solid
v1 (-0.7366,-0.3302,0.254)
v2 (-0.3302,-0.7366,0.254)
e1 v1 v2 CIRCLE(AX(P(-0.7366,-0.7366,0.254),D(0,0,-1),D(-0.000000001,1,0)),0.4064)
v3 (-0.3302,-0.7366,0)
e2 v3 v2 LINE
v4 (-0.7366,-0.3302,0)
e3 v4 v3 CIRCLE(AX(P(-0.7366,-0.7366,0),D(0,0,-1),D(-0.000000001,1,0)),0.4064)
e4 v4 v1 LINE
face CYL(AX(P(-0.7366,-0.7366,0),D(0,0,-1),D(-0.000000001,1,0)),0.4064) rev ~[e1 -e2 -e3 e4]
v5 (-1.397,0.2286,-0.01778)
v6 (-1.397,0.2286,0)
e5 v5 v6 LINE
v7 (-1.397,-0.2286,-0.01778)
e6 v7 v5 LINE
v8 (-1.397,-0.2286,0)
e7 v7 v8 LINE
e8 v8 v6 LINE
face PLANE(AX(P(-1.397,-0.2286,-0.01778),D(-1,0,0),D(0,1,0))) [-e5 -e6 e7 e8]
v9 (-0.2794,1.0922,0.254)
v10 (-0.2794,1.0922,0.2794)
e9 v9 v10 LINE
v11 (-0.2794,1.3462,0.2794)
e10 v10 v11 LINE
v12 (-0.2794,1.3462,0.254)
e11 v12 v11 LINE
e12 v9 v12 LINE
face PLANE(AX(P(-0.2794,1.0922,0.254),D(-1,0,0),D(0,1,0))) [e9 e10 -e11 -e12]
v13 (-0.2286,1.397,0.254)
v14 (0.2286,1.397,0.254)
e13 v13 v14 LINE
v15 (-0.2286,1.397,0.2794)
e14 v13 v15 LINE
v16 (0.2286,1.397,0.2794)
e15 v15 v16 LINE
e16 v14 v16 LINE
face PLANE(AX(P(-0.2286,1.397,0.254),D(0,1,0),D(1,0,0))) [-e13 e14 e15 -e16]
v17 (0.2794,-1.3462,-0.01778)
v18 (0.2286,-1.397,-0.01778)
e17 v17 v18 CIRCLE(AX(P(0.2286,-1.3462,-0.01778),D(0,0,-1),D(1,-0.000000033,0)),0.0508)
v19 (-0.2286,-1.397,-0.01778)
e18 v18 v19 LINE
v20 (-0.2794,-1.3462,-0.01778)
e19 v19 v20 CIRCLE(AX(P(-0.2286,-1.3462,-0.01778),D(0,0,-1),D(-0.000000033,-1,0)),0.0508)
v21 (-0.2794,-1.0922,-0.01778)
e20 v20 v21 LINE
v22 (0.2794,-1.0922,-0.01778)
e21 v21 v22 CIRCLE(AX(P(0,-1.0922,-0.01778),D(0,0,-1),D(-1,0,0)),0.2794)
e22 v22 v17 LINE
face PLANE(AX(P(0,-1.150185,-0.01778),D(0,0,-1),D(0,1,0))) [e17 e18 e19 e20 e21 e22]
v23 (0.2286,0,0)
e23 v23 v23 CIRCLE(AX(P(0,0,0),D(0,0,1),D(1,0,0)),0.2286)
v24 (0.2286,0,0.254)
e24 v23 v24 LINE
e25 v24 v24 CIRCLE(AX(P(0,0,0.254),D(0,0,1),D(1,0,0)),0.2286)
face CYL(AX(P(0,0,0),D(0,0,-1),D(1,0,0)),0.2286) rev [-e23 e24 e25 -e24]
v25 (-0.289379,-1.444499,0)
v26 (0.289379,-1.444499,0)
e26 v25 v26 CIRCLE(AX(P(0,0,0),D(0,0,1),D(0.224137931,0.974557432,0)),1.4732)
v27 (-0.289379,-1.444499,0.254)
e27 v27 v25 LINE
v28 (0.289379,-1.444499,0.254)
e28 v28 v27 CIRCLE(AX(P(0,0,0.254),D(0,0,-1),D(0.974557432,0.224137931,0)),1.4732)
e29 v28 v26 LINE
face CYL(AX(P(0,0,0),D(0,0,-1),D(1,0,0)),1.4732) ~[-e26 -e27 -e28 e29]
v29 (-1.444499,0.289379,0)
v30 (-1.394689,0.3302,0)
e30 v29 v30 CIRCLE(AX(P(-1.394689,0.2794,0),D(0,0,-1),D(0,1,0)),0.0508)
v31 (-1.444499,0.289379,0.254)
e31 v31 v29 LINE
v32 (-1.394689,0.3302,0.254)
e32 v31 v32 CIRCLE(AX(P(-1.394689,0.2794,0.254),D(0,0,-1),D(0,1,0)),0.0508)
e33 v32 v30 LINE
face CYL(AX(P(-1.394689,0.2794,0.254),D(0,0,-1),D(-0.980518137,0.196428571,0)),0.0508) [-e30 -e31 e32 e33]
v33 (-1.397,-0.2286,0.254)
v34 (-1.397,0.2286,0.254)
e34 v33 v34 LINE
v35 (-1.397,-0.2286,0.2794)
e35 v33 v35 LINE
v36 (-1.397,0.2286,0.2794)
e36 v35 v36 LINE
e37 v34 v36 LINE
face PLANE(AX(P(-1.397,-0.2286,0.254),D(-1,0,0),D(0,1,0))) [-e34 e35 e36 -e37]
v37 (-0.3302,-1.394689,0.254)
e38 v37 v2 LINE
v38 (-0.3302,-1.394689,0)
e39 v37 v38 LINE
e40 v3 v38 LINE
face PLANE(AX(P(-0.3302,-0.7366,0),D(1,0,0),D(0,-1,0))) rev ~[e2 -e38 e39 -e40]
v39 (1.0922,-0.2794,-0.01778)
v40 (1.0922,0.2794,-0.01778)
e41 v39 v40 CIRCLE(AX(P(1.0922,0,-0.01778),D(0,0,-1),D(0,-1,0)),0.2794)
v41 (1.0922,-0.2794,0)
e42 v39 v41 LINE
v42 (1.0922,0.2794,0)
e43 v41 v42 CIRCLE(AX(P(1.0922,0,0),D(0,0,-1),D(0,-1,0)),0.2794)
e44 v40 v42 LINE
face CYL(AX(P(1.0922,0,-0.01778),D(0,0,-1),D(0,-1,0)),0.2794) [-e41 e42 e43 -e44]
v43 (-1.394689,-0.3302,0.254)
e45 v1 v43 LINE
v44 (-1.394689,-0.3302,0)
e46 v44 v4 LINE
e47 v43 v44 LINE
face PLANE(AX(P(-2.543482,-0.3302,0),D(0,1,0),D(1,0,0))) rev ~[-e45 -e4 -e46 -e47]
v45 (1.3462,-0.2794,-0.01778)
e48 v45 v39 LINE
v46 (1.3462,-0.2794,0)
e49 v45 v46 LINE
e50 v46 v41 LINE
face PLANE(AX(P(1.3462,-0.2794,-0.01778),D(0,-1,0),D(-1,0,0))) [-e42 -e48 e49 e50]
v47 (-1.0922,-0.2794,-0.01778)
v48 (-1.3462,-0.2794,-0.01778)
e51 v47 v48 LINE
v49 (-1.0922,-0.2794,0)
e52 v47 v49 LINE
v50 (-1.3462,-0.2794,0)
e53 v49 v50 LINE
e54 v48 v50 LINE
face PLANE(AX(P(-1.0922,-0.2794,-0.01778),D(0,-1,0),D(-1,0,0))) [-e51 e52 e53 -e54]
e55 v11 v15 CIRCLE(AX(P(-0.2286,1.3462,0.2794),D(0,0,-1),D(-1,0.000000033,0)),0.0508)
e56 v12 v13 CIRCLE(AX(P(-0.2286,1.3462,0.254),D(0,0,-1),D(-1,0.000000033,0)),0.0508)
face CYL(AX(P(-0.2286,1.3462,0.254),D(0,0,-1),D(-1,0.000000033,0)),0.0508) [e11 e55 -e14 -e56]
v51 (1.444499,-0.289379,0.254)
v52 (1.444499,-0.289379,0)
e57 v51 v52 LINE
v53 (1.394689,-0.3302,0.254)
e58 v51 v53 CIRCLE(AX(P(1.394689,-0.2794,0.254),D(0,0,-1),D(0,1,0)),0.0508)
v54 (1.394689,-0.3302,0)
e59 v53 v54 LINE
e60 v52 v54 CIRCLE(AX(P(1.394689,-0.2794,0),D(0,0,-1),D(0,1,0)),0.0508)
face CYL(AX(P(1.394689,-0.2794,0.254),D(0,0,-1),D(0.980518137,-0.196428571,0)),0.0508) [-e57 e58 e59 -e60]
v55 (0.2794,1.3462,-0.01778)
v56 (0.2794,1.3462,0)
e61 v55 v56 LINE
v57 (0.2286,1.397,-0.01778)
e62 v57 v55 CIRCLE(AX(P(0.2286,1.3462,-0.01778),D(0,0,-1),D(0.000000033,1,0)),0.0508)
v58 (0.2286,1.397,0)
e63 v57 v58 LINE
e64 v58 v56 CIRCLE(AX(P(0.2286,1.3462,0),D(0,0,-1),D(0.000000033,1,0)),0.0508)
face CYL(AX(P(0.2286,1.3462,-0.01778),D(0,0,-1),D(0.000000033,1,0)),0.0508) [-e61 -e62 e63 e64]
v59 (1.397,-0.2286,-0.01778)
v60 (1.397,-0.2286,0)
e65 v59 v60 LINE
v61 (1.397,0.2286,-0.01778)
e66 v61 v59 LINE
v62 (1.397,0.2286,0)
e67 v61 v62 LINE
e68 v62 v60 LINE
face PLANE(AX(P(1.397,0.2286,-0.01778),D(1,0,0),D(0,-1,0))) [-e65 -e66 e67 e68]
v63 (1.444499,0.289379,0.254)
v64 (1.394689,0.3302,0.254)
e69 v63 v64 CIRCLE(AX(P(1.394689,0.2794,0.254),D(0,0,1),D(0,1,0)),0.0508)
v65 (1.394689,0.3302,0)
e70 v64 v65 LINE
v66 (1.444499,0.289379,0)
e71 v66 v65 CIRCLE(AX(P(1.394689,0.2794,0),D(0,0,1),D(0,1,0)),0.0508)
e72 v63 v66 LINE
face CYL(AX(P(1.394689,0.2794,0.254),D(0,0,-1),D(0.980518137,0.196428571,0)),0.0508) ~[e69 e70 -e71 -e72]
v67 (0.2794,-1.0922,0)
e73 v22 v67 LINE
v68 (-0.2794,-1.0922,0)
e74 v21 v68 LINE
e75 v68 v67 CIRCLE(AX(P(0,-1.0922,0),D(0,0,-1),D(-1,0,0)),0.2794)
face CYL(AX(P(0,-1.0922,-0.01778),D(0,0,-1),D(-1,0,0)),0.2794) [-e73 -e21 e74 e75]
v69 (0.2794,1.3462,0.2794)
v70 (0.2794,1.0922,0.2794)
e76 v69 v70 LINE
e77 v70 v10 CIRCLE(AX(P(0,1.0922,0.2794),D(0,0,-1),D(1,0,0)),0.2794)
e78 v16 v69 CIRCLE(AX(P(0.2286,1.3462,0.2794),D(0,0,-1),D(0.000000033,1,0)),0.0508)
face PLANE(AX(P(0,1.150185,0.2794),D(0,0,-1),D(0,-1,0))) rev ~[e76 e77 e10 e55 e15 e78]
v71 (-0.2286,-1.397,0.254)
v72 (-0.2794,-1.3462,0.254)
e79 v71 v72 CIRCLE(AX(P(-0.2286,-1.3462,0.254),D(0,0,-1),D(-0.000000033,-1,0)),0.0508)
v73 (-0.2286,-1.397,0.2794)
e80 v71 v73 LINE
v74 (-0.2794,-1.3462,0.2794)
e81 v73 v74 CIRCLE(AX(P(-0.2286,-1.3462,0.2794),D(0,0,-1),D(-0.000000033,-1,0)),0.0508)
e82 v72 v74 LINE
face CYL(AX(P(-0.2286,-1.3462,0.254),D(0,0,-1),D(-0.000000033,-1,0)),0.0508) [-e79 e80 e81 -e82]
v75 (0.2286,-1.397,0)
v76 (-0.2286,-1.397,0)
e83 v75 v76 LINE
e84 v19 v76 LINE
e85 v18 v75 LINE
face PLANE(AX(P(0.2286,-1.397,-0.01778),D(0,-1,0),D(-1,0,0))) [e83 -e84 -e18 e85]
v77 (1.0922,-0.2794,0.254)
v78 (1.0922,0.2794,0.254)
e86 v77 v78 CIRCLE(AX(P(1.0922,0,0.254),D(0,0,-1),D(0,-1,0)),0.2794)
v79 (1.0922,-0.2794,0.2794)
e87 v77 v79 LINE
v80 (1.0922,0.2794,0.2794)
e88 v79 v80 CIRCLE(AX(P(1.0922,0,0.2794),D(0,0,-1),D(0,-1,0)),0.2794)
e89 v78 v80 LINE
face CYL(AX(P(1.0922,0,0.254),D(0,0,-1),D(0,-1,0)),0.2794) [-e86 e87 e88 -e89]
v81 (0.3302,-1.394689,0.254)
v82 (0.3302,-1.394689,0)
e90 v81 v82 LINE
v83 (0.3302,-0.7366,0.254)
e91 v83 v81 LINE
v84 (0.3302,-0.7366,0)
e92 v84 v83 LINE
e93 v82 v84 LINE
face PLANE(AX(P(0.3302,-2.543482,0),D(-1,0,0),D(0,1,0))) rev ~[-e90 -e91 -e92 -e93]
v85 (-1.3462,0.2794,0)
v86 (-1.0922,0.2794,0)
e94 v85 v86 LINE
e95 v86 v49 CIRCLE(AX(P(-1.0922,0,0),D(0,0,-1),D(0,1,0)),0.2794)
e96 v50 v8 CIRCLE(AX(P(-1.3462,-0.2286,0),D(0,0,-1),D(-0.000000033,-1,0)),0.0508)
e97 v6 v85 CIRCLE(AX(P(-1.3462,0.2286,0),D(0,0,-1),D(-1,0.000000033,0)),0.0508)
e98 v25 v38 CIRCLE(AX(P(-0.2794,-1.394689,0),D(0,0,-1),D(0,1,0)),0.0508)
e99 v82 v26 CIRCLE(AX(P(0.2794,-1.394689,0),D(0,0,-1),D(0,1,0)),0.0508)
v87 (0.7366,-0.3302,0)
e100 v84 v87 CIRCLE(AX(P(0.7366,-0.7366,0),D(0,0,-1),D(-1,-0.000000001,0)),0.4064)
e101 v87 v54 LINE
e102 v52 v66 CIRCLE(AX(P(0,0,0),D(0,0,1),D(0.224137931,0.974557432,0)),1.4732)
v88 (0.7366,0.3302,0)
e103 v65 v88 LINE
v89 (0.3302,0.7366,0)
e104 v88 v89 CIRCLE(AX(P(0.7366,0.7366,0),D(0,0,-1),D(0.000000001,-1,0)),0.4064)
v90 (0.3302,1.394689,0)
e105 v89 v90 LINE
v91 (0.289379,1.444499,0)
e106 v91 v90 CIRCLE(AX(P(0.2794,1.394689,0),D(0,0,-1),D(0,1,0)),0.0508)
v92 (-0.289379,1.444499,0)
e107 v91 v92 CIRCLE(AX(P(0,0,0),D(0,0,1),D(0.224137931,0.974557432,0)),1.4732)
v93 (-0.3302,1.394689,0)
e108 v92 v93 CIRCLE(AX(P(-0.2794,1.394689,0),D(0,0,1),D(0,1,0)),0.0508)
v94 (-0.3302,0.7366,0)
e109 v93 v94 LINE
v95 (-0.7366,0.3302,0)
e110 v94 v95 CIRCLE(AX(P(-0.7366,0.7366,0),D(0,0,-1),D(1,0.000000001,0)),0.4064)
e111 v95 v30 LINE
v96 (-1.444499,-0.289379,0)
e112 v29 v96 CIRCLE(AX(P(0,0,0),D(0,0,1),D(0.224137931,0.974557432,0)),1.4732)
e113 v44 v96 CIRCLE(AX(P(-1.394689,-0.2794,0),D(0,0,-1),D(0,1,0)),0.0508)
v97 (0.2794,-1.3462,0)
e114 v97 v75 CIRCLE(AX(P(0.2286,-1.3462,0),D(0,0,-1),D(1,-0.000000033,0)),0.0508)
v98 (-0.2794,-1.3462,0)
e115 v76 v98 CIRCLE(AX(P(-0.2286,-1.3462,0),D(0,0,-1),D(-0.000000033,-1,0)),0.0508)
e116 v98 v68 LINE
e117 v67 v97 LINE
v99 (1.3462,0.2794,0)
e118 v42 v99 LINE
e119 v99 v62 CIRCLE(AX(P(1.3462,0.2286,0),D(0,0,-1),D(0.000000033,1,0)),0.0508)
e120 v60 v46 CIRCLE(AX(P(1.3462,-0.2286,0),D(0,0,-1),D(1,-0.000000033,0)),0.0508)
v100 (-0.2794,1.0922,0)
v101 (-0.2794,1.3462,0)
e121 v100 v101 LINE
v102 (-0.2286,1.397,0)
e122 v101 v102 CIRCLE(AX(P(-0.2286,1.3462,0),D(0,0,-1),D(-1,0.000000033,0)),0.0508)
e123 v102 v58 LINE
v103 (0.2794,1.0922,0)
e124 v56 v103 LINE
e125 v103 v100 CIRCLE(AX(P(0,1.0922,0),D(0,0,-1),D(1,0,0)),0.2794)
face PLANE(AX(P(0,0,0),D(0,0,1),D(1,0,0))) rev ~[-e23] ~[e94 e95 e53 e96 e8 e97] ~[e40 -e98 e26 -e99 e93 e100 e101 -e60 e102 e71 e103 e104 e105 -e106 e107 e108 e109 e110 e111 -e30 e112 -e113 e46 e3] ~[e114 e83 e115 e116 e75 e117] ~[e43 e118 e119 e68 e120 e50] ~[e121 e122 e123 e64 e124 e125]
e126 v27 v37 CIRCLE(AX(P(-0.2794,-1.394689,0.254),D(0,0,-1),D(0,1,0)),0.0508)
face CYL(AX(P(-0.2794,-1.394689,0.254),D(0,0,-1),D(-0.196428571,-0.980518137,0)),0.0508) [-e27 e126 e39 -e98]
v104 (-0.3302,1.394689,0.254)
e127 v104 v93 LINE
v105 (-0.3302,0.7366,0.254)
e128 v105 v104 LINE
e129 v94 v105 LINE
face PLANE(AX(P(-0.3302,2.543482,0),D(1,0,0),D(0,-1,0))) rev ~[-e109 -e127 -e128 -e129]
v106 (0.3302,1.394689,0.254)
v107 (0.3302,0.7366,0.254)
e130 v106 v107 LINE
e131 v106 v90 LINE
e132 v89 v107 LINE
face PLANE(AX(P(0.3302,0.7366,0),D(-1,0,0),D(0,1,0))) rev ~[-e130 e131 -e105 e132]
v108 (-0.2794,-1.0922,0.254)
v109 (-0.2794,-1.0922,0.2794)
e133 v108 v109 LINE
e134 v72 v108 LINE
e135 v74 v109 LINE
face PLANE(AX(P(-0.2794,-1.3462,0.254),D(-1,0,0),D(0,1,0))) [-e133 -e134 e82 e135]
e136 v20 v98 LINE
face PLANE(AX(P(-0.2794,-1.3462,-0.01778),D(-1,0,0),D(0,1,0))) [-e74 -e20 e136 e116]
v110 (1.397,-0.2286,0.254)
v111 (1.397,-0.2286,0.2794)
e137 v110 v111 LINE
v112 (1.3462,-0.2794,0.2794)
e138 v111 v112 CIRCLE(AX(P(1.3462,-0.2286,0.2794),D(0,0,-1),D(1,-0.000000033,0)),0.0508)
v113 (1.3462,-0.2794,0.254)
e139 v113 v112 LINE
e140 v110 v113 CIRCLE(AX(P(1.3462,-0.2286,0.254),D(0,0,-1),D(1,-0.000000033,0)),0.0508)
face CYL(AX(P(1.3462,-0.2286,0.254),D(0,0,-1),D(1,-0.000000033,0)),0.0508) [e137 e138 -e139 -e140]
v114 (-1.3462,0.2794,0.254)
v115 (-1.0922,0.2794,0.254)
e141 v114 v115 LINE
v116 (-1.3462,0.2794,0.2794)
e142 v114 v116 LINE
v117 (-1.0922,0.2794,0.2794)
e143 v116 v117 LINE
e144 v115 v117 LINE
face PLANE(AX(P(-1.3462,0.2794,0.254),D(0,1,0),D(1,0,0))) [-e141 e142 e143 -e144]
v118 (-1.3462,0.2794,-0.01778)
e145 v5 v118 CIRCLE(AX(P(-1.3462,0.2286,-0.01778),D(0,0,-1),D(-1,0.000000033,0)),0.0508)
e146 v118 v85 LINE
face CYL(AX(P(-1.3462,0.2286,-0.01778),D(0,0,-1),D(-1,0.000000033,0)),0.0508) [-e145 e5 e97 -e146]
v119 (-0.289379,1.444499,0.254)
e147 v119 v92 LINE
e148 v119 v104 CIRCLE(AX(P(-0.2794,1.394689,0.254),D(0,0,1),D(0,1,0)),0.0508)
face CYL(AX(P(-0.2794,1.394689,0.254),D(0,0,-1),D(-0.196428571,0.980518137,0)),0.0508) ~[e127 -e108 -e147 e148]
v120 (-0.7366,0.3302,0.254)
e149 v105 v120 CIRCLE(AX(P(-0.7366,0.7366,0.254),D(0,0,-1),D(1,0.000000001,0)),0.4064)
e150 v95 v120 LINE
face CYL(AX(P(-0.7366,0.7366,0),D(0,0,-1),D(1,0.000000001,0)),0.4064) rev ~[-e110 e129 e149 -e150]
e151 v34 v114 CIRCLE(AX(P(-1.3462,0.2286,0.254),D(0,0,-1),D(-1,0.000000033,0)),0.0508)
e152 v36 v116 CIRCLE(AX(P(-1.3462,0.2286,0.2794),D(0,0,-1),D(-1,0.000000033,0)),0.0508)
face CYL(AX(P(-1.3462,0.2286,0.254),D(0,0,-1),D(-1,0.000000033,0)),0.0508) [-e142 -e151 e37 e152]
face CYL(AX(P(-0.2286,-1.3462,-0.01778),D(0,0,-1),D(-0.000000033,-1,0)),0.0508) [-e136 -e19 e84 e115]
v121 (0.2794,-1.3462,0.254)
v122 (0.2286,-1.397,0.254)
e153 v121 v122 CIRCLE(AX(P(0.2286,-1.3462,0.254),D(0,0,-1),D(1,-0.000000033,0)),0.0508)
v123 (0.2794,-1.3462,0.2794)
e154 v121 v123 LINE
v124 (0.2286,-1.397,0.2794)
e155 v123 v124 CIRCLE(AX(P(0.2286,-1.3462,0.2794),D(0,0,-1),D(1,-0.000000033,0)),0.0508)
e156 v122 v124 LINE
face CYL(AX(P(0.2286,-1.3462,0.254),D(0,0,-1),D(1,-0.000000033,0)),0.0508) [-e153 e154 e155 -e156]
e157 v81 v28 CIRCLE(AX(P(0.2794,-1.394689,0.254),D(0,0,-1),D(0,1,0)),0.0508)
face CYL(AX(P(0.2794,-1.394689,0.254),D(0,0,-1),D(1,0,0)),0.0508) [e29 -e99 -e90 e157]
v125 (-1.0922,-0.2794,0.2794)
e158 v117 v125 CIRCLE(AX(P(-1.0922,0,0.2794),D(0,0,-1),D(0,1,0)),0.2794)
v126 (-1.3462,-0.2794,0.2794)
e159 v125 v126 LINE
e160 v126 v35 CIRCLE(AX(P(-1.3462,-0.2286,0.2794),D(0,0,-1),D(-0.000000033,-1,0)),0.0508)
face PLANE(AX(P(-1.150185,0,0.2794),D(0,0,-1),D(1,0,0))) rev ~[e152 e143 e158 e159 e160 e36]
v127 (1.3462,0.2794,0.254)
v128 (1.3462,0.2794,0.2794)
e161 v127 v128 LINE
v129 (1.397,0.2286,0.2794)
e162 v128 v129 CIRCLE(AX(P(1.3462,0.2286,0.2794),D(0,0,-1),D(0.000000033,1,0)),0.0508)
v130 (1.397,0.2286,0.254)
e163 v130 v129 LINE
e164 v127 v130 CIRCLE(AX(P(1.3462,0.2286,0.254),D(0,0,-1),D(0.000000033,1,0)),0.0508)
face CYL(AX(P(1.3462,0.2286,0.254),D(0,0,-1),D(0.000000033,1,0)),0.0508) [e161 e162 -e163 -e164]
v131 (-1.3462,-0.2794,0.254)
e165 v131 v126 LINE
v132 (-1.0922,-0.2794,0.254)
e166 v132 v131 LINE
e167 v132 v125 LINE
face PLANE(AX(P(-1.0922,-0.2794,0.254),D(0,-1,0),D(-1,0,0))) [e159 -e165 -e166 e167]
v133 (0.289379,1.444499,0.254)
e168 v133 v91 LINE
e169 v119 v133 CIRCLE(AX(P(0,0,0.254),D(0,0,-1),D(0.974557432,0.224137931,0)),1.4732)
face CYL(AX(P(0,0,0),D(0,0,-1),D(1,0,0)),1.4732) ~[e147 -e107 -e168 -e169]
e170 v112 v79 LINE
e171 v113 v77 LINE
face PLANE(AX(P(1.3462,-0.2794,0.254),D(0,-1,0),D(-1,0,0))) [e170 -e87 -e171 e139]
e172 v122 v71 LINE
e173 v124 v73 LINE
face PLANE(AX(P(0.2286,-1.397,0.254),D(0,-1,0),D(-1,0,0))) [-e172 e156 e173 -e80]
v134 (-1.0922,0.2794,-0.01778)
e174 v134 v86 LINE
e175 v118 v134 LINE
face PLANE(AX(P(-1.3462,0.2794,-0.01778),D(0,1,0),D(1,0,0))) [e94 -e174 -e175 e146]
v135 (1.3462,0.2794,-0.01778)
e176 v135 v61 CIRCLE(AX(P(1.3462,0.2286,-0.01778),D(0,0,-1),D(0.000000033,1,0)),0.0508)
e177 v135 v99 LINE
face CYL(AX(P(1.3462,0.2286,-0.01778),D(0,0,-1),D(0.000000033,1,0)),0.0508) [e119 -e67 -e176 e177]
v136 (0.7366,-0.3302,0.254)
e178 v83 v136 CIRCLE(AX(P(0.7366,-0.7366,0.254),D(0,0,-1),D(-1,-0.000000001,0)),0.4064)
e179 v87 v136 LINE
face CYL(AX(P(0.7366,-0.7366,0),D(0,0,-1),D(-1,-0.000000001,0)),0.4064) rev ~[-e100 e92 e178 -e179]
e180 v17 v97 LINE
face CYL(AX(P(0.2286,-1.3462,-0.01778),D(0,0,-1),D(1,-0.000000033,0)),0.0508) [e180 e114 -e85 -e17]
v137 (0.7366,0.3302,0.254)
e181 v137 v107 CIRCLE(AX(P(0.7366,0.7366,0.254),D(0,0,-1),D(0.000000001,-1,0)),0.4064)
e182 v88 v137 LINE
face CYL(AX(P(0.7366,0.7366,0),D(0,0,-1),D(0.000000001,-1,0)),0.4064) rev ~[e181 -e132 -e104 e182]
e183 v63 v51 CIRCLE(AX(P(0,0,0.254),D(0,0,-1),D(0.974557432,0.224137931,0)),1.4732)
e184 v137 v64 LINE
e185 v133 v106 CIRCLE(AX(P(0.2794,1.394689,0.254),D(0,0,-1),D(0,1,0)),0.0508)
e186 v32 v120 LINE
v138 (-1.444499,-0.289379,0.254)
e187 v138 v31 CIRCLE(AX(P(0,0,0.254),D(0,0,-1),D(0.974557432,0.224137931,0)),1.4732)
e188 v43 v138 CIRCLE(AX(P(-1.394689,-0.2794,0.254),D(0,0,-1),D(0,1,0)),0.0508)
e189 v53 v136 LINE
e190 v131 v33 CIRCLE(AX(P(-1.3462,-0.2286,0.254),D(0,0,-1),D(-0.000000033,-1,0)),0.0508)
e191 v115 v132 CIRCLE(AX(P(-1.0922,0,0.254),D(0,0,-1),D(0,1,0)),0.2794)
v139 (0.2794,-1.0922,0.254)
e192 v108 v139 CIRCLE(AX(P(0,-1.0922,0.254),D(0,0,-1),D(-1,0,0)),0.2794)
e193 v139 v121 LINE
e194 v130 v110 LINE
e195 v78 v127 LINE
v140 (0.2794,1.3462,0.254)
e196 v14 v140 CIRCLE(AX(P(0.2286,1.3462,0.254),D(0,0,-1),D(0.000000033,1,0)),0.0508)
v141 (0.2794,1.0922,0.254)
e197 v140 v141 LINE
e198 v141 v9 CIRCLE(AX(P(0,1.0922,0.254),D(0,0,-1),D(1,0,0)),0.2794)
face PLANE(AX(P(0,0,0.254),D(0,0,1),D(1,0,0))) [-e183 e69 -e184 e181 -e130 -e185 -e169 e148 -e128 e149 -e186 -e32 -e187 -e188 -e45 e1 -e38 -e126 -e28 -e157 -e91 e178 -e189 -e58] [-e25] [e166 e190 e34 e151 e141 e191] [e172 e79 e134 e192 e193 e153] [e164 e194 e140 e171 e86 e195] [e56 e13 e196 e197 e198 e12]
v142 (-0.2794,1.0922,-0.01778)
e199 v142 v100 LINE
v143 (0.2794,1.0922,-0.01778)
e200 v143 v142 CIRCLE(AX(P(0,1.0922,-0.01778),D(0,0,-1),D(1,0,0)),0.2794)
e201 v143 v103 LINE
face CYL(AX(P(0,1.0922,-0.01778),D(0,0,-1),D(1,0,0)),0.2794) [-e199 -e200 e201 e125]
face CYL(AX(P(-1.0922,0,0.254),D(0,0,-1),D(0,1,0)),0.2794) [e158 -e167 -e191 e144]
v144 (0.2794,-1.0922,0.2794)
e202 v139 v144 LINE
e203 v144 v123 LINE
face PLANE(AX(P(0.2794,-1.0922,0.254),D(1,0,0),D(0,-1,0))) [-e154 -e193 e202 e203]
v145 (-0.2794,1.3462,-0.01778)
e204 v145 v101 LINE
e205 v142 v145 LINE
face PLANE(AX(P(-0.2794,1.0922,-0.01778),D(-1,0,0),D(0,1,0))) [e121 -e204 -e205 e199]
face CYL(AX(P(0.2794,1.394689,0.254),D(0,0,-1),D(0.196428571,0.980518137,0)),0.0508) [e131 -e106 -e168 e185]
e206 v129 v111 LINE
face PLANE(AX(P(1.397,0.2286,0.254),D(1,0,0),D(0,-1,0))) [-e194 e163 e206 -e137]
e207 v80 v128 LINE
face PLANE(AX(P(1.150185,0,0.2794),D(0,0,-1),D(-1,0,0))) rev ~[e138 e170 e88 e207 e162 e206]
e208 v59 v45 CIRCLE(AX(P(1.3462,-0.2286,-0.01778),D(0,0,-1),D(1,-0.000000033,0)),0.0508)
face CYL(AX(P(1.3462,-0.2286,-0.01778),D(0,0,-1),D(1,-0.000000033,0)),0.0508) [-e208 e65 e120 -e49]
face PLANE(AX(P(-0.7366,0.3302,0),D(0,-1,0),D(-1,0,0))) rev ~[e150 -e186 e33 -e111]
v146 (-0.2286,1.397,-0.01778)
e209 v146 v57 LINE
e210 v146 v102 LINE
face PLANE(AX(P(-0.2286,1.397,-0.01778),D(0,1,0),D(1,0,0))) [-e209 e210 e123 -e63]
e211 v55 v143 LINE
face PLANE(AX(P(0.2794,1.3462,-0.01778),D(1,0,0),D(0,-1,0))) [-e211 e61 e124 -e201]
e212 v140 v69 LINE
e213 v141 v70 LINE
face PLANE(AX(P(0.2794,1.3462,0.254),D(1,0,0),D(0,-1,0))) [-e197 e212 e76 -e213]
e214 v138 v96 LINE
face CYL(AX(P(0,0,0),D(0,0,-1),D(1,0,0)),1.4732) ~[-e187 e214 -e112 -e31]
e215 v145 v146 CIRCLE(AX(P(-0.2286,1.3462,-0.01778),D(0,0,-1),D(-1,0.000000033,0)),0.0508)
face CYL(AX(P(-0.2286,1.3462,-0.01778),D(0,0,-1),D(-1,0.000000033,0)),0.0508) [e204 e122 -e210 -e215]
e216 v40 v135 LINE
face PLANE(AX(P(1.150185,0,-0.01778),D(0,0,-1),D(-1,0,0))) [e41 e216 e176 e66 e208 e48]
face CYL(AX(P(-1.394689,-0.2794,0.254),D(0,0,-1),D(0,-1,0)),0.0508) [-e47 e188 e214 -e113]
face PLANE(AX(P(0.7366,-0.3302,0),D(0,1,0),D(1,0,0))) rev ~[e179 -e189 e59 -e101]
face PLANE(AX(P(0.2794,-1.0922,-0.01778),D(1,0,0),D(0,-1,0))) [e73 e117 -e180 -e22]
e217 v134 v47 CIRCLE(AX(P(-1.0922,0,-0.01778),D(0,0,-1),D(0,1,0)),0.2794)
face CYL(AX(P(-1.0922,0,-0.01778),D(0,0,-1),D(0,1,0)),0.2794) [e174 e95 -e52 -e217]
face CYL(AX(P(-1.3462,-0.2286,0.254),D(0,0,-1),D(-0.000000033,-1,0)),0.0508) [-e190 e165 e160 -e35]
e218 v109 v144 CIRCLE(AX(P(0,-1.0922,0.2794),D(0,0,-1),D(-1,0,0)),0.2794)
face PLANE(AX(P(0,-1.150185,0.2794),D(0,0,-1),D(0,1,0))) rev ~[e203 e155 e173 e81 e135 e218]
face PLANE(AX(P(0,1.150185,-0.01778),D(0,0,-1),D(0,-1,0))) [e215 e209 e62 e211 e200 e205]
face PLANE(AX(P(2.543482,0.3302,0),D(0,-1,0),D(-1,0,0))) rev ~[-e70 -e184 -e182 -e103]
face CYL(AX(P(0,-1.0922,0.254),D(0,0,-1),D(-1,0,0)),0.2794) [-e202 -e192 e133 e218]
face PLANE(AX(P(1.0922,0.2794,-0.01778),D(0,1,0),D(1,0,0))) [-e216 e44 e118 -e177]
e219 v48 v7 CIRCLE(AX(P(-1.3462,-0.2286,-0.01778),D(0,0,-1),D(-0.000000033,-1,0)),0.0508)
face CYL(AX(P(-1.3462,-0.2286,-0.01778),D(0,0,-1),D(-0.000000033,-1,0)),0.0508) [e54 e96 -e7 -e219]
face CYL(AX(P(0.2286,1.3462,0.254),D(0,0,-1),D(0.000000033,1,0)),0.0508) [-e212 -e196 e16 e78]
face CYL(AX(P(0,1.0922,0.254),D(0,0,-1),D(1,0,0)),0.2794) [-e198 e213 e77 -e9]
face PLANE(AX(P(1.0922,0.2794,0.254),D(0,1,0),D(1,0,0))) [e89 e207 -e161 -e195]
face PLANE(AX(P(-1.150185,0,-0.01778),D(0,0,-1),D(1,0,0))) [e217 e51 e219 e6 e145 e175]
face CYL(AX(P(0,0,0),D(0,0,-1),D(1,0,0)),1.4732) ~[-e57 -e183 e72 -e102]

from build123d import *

# Parameters (mm, degrees)
SKETCH1_R                = 1.4732
SKETCH1_R_2              = 0.2286
BOSS_EXTRUDE1_DEPTH      = 0.254
CUT_EXTRUDE3_DEPTH       = 3.098845511
FILLET1_R                = 0.0508
CIRPATTERN2_COUNT        = 4
FILLET1_OF_CIRPATTERN2_R = 0.0508
BOSS_EXTRUDE2_DEPTH      = 0.0254
BOSS_EXTRUDE4_START      = 0.01778
BOSS_EXTRUDE4_DEPTH      = 0.01778
CIRPATTERN1_COUNT        = 4


with BuildPart() as part:
    # Sketch1 → Boss-Extrude1 (new body)
    with BuildSketch(Plane.XY):
        Circle(SKETCH1_R)
        Circle(SKETCH1_R_2, mode=Mode.SUBTRACT)
    extrude(amount=BOSS_EXTRUDE1_DEPTH)

    # Sketch11 → Cut-Extrude3 (cut, through all)
    with BuildSketch(Plane.XY):
        with BuildLine():
            Line((2.543481959, 0.3302), (0.7366, 0.3302))
            ThreePointArc((0.7366, 0.3302), (0.449231804, 0.449231804), (0.3302, 0.7366))
            Line((0.3302, 0.7366), (0.3302, 2.543481959))
            Line((0.3302, 2.543481959), (2.543481959, 0.3302))
        make_face()
    cut_extrude3 = extrude(amount=CUT_EXTRUDE3_DEPTH, mode=Mode.SUBTRACT)

    # Fillet1
    fillet1_edges = [part.edges().sort_by_distance(p)[0] for p in [
        (1.435718009, 0.3302, 0.127),
        (0.3302, 1.435718009, 0.127),
    ]]
    fillet(fillet1_edges, radius=FILLET1_R)

    # CirPattern2: Cut-Extrude3 ×4 about axis
    cirpattern2_axis = Axis((0, 0, -0.05461), (0, 0, 1))
    for i in range(1, CIRPATTERN2_COUNT):
        add(cut_extrude3.rotate(cirpattern2_axis, i * 360 / CIRPATTERN2_COUNT), mode=Mode.SUBTRACT)

    # Fillet1 of CirPattern2
    fillet1_of_cirpattern2_edges = [part.edges().sort_by_distance(p)[0] for p in [
        (-0.3302, 1.435718009, 0.127),
        (-1.435718009, 0.3302, 0.127),
        (-1.435718009, -0.3302, 0.127),
        (-0.3302, -1.435718009, 0.127),
        (0.3302, -1.435718009, 0.127),
        (1.435718009, -0.3302, 0.127),
    ]]
    fillet(fillet1_of_cirpattern2_edges, radius=FILLET1_OF_CIRPATTERN2_R)

    # Sketch2 → Boss-Extrude2 (add)
    with BuildSketch(Plane.XY.offset(0.254)):
        with BuildLine():
            Line((1.0922, 0.2794), (1.3462, 0.2794))
            ThreePointArc((1.3462, 0.2794), (1.382121024, 0.264521024), (1.397, 0.2286))
            Line((1.397, 0.2286), (1.397, -0.2286))
            ThreePointArc((1.397, -0.2286), (1.382121024, -0.264521024), (1.3462, -0.2794))
            Line((1.3462, -0.2794), (1.0922, -0.2794))
            ThreePointArc((1.0922, -0.2794), (0.8128, 0), (1.0922, 0.2794))
        make_face()
    boss_extrude2 = extrude(amount=BOSS_EXTRUDE2_DEPTH)

    # Sketch5 → Boss-Extrude4 (add)
    with BuildSketch(Plane(origin=(0, 0, 0), x_dir=(-1, 0, 0), z_dir=(0, 0, -1)).offset(BOSS_EXTRUDE4_START)):
        with BuildLine():
            Line((-1.397, 0.2286), (-1.397, -0.2286))
            ThreePointArc((-1.397, -0.2286), (-1.382121024, -0.264521024), (-1.3462, -0.2794))
            Line((-1.3462, -0.2794), (-1.0922, -0.2794))
            ThreePointArc((-1.0922, -0.2794), (-0.8128, 0), (-1.0922, 0.2794))
            Line((-1.0922, 0.2794), (-1.3462, 0.2794))
            ThreePointArc((-1.3462, 0.2794), (-1.382121024, 0.264521024), (-1.397, 0.2286))
        make_face()
    boss_extrude4 = extrude(amount=-BOSS_EXTRUDE4_DEPTH)

    # CirPattern1: Boss-Extrude2, Boss-Extrude4 ×4 about axis
    cirpattern1_axis = Axis((0, 0, -0.05461), (0, 0, 1))
    add([boss_extrude2.rotate(cirpattern1_axis, i * 360 / CIRPATTERN1_COUNT) for i in range(1, CIRPATTERN1_COUNT)])
    add([boss_extrude4.rotate(cirpattern1_axis, i * 360 / CIRPATTERN1_COUNT) for i in range(1, CIRPATTERN1_COUNT)])


solid = part.part
